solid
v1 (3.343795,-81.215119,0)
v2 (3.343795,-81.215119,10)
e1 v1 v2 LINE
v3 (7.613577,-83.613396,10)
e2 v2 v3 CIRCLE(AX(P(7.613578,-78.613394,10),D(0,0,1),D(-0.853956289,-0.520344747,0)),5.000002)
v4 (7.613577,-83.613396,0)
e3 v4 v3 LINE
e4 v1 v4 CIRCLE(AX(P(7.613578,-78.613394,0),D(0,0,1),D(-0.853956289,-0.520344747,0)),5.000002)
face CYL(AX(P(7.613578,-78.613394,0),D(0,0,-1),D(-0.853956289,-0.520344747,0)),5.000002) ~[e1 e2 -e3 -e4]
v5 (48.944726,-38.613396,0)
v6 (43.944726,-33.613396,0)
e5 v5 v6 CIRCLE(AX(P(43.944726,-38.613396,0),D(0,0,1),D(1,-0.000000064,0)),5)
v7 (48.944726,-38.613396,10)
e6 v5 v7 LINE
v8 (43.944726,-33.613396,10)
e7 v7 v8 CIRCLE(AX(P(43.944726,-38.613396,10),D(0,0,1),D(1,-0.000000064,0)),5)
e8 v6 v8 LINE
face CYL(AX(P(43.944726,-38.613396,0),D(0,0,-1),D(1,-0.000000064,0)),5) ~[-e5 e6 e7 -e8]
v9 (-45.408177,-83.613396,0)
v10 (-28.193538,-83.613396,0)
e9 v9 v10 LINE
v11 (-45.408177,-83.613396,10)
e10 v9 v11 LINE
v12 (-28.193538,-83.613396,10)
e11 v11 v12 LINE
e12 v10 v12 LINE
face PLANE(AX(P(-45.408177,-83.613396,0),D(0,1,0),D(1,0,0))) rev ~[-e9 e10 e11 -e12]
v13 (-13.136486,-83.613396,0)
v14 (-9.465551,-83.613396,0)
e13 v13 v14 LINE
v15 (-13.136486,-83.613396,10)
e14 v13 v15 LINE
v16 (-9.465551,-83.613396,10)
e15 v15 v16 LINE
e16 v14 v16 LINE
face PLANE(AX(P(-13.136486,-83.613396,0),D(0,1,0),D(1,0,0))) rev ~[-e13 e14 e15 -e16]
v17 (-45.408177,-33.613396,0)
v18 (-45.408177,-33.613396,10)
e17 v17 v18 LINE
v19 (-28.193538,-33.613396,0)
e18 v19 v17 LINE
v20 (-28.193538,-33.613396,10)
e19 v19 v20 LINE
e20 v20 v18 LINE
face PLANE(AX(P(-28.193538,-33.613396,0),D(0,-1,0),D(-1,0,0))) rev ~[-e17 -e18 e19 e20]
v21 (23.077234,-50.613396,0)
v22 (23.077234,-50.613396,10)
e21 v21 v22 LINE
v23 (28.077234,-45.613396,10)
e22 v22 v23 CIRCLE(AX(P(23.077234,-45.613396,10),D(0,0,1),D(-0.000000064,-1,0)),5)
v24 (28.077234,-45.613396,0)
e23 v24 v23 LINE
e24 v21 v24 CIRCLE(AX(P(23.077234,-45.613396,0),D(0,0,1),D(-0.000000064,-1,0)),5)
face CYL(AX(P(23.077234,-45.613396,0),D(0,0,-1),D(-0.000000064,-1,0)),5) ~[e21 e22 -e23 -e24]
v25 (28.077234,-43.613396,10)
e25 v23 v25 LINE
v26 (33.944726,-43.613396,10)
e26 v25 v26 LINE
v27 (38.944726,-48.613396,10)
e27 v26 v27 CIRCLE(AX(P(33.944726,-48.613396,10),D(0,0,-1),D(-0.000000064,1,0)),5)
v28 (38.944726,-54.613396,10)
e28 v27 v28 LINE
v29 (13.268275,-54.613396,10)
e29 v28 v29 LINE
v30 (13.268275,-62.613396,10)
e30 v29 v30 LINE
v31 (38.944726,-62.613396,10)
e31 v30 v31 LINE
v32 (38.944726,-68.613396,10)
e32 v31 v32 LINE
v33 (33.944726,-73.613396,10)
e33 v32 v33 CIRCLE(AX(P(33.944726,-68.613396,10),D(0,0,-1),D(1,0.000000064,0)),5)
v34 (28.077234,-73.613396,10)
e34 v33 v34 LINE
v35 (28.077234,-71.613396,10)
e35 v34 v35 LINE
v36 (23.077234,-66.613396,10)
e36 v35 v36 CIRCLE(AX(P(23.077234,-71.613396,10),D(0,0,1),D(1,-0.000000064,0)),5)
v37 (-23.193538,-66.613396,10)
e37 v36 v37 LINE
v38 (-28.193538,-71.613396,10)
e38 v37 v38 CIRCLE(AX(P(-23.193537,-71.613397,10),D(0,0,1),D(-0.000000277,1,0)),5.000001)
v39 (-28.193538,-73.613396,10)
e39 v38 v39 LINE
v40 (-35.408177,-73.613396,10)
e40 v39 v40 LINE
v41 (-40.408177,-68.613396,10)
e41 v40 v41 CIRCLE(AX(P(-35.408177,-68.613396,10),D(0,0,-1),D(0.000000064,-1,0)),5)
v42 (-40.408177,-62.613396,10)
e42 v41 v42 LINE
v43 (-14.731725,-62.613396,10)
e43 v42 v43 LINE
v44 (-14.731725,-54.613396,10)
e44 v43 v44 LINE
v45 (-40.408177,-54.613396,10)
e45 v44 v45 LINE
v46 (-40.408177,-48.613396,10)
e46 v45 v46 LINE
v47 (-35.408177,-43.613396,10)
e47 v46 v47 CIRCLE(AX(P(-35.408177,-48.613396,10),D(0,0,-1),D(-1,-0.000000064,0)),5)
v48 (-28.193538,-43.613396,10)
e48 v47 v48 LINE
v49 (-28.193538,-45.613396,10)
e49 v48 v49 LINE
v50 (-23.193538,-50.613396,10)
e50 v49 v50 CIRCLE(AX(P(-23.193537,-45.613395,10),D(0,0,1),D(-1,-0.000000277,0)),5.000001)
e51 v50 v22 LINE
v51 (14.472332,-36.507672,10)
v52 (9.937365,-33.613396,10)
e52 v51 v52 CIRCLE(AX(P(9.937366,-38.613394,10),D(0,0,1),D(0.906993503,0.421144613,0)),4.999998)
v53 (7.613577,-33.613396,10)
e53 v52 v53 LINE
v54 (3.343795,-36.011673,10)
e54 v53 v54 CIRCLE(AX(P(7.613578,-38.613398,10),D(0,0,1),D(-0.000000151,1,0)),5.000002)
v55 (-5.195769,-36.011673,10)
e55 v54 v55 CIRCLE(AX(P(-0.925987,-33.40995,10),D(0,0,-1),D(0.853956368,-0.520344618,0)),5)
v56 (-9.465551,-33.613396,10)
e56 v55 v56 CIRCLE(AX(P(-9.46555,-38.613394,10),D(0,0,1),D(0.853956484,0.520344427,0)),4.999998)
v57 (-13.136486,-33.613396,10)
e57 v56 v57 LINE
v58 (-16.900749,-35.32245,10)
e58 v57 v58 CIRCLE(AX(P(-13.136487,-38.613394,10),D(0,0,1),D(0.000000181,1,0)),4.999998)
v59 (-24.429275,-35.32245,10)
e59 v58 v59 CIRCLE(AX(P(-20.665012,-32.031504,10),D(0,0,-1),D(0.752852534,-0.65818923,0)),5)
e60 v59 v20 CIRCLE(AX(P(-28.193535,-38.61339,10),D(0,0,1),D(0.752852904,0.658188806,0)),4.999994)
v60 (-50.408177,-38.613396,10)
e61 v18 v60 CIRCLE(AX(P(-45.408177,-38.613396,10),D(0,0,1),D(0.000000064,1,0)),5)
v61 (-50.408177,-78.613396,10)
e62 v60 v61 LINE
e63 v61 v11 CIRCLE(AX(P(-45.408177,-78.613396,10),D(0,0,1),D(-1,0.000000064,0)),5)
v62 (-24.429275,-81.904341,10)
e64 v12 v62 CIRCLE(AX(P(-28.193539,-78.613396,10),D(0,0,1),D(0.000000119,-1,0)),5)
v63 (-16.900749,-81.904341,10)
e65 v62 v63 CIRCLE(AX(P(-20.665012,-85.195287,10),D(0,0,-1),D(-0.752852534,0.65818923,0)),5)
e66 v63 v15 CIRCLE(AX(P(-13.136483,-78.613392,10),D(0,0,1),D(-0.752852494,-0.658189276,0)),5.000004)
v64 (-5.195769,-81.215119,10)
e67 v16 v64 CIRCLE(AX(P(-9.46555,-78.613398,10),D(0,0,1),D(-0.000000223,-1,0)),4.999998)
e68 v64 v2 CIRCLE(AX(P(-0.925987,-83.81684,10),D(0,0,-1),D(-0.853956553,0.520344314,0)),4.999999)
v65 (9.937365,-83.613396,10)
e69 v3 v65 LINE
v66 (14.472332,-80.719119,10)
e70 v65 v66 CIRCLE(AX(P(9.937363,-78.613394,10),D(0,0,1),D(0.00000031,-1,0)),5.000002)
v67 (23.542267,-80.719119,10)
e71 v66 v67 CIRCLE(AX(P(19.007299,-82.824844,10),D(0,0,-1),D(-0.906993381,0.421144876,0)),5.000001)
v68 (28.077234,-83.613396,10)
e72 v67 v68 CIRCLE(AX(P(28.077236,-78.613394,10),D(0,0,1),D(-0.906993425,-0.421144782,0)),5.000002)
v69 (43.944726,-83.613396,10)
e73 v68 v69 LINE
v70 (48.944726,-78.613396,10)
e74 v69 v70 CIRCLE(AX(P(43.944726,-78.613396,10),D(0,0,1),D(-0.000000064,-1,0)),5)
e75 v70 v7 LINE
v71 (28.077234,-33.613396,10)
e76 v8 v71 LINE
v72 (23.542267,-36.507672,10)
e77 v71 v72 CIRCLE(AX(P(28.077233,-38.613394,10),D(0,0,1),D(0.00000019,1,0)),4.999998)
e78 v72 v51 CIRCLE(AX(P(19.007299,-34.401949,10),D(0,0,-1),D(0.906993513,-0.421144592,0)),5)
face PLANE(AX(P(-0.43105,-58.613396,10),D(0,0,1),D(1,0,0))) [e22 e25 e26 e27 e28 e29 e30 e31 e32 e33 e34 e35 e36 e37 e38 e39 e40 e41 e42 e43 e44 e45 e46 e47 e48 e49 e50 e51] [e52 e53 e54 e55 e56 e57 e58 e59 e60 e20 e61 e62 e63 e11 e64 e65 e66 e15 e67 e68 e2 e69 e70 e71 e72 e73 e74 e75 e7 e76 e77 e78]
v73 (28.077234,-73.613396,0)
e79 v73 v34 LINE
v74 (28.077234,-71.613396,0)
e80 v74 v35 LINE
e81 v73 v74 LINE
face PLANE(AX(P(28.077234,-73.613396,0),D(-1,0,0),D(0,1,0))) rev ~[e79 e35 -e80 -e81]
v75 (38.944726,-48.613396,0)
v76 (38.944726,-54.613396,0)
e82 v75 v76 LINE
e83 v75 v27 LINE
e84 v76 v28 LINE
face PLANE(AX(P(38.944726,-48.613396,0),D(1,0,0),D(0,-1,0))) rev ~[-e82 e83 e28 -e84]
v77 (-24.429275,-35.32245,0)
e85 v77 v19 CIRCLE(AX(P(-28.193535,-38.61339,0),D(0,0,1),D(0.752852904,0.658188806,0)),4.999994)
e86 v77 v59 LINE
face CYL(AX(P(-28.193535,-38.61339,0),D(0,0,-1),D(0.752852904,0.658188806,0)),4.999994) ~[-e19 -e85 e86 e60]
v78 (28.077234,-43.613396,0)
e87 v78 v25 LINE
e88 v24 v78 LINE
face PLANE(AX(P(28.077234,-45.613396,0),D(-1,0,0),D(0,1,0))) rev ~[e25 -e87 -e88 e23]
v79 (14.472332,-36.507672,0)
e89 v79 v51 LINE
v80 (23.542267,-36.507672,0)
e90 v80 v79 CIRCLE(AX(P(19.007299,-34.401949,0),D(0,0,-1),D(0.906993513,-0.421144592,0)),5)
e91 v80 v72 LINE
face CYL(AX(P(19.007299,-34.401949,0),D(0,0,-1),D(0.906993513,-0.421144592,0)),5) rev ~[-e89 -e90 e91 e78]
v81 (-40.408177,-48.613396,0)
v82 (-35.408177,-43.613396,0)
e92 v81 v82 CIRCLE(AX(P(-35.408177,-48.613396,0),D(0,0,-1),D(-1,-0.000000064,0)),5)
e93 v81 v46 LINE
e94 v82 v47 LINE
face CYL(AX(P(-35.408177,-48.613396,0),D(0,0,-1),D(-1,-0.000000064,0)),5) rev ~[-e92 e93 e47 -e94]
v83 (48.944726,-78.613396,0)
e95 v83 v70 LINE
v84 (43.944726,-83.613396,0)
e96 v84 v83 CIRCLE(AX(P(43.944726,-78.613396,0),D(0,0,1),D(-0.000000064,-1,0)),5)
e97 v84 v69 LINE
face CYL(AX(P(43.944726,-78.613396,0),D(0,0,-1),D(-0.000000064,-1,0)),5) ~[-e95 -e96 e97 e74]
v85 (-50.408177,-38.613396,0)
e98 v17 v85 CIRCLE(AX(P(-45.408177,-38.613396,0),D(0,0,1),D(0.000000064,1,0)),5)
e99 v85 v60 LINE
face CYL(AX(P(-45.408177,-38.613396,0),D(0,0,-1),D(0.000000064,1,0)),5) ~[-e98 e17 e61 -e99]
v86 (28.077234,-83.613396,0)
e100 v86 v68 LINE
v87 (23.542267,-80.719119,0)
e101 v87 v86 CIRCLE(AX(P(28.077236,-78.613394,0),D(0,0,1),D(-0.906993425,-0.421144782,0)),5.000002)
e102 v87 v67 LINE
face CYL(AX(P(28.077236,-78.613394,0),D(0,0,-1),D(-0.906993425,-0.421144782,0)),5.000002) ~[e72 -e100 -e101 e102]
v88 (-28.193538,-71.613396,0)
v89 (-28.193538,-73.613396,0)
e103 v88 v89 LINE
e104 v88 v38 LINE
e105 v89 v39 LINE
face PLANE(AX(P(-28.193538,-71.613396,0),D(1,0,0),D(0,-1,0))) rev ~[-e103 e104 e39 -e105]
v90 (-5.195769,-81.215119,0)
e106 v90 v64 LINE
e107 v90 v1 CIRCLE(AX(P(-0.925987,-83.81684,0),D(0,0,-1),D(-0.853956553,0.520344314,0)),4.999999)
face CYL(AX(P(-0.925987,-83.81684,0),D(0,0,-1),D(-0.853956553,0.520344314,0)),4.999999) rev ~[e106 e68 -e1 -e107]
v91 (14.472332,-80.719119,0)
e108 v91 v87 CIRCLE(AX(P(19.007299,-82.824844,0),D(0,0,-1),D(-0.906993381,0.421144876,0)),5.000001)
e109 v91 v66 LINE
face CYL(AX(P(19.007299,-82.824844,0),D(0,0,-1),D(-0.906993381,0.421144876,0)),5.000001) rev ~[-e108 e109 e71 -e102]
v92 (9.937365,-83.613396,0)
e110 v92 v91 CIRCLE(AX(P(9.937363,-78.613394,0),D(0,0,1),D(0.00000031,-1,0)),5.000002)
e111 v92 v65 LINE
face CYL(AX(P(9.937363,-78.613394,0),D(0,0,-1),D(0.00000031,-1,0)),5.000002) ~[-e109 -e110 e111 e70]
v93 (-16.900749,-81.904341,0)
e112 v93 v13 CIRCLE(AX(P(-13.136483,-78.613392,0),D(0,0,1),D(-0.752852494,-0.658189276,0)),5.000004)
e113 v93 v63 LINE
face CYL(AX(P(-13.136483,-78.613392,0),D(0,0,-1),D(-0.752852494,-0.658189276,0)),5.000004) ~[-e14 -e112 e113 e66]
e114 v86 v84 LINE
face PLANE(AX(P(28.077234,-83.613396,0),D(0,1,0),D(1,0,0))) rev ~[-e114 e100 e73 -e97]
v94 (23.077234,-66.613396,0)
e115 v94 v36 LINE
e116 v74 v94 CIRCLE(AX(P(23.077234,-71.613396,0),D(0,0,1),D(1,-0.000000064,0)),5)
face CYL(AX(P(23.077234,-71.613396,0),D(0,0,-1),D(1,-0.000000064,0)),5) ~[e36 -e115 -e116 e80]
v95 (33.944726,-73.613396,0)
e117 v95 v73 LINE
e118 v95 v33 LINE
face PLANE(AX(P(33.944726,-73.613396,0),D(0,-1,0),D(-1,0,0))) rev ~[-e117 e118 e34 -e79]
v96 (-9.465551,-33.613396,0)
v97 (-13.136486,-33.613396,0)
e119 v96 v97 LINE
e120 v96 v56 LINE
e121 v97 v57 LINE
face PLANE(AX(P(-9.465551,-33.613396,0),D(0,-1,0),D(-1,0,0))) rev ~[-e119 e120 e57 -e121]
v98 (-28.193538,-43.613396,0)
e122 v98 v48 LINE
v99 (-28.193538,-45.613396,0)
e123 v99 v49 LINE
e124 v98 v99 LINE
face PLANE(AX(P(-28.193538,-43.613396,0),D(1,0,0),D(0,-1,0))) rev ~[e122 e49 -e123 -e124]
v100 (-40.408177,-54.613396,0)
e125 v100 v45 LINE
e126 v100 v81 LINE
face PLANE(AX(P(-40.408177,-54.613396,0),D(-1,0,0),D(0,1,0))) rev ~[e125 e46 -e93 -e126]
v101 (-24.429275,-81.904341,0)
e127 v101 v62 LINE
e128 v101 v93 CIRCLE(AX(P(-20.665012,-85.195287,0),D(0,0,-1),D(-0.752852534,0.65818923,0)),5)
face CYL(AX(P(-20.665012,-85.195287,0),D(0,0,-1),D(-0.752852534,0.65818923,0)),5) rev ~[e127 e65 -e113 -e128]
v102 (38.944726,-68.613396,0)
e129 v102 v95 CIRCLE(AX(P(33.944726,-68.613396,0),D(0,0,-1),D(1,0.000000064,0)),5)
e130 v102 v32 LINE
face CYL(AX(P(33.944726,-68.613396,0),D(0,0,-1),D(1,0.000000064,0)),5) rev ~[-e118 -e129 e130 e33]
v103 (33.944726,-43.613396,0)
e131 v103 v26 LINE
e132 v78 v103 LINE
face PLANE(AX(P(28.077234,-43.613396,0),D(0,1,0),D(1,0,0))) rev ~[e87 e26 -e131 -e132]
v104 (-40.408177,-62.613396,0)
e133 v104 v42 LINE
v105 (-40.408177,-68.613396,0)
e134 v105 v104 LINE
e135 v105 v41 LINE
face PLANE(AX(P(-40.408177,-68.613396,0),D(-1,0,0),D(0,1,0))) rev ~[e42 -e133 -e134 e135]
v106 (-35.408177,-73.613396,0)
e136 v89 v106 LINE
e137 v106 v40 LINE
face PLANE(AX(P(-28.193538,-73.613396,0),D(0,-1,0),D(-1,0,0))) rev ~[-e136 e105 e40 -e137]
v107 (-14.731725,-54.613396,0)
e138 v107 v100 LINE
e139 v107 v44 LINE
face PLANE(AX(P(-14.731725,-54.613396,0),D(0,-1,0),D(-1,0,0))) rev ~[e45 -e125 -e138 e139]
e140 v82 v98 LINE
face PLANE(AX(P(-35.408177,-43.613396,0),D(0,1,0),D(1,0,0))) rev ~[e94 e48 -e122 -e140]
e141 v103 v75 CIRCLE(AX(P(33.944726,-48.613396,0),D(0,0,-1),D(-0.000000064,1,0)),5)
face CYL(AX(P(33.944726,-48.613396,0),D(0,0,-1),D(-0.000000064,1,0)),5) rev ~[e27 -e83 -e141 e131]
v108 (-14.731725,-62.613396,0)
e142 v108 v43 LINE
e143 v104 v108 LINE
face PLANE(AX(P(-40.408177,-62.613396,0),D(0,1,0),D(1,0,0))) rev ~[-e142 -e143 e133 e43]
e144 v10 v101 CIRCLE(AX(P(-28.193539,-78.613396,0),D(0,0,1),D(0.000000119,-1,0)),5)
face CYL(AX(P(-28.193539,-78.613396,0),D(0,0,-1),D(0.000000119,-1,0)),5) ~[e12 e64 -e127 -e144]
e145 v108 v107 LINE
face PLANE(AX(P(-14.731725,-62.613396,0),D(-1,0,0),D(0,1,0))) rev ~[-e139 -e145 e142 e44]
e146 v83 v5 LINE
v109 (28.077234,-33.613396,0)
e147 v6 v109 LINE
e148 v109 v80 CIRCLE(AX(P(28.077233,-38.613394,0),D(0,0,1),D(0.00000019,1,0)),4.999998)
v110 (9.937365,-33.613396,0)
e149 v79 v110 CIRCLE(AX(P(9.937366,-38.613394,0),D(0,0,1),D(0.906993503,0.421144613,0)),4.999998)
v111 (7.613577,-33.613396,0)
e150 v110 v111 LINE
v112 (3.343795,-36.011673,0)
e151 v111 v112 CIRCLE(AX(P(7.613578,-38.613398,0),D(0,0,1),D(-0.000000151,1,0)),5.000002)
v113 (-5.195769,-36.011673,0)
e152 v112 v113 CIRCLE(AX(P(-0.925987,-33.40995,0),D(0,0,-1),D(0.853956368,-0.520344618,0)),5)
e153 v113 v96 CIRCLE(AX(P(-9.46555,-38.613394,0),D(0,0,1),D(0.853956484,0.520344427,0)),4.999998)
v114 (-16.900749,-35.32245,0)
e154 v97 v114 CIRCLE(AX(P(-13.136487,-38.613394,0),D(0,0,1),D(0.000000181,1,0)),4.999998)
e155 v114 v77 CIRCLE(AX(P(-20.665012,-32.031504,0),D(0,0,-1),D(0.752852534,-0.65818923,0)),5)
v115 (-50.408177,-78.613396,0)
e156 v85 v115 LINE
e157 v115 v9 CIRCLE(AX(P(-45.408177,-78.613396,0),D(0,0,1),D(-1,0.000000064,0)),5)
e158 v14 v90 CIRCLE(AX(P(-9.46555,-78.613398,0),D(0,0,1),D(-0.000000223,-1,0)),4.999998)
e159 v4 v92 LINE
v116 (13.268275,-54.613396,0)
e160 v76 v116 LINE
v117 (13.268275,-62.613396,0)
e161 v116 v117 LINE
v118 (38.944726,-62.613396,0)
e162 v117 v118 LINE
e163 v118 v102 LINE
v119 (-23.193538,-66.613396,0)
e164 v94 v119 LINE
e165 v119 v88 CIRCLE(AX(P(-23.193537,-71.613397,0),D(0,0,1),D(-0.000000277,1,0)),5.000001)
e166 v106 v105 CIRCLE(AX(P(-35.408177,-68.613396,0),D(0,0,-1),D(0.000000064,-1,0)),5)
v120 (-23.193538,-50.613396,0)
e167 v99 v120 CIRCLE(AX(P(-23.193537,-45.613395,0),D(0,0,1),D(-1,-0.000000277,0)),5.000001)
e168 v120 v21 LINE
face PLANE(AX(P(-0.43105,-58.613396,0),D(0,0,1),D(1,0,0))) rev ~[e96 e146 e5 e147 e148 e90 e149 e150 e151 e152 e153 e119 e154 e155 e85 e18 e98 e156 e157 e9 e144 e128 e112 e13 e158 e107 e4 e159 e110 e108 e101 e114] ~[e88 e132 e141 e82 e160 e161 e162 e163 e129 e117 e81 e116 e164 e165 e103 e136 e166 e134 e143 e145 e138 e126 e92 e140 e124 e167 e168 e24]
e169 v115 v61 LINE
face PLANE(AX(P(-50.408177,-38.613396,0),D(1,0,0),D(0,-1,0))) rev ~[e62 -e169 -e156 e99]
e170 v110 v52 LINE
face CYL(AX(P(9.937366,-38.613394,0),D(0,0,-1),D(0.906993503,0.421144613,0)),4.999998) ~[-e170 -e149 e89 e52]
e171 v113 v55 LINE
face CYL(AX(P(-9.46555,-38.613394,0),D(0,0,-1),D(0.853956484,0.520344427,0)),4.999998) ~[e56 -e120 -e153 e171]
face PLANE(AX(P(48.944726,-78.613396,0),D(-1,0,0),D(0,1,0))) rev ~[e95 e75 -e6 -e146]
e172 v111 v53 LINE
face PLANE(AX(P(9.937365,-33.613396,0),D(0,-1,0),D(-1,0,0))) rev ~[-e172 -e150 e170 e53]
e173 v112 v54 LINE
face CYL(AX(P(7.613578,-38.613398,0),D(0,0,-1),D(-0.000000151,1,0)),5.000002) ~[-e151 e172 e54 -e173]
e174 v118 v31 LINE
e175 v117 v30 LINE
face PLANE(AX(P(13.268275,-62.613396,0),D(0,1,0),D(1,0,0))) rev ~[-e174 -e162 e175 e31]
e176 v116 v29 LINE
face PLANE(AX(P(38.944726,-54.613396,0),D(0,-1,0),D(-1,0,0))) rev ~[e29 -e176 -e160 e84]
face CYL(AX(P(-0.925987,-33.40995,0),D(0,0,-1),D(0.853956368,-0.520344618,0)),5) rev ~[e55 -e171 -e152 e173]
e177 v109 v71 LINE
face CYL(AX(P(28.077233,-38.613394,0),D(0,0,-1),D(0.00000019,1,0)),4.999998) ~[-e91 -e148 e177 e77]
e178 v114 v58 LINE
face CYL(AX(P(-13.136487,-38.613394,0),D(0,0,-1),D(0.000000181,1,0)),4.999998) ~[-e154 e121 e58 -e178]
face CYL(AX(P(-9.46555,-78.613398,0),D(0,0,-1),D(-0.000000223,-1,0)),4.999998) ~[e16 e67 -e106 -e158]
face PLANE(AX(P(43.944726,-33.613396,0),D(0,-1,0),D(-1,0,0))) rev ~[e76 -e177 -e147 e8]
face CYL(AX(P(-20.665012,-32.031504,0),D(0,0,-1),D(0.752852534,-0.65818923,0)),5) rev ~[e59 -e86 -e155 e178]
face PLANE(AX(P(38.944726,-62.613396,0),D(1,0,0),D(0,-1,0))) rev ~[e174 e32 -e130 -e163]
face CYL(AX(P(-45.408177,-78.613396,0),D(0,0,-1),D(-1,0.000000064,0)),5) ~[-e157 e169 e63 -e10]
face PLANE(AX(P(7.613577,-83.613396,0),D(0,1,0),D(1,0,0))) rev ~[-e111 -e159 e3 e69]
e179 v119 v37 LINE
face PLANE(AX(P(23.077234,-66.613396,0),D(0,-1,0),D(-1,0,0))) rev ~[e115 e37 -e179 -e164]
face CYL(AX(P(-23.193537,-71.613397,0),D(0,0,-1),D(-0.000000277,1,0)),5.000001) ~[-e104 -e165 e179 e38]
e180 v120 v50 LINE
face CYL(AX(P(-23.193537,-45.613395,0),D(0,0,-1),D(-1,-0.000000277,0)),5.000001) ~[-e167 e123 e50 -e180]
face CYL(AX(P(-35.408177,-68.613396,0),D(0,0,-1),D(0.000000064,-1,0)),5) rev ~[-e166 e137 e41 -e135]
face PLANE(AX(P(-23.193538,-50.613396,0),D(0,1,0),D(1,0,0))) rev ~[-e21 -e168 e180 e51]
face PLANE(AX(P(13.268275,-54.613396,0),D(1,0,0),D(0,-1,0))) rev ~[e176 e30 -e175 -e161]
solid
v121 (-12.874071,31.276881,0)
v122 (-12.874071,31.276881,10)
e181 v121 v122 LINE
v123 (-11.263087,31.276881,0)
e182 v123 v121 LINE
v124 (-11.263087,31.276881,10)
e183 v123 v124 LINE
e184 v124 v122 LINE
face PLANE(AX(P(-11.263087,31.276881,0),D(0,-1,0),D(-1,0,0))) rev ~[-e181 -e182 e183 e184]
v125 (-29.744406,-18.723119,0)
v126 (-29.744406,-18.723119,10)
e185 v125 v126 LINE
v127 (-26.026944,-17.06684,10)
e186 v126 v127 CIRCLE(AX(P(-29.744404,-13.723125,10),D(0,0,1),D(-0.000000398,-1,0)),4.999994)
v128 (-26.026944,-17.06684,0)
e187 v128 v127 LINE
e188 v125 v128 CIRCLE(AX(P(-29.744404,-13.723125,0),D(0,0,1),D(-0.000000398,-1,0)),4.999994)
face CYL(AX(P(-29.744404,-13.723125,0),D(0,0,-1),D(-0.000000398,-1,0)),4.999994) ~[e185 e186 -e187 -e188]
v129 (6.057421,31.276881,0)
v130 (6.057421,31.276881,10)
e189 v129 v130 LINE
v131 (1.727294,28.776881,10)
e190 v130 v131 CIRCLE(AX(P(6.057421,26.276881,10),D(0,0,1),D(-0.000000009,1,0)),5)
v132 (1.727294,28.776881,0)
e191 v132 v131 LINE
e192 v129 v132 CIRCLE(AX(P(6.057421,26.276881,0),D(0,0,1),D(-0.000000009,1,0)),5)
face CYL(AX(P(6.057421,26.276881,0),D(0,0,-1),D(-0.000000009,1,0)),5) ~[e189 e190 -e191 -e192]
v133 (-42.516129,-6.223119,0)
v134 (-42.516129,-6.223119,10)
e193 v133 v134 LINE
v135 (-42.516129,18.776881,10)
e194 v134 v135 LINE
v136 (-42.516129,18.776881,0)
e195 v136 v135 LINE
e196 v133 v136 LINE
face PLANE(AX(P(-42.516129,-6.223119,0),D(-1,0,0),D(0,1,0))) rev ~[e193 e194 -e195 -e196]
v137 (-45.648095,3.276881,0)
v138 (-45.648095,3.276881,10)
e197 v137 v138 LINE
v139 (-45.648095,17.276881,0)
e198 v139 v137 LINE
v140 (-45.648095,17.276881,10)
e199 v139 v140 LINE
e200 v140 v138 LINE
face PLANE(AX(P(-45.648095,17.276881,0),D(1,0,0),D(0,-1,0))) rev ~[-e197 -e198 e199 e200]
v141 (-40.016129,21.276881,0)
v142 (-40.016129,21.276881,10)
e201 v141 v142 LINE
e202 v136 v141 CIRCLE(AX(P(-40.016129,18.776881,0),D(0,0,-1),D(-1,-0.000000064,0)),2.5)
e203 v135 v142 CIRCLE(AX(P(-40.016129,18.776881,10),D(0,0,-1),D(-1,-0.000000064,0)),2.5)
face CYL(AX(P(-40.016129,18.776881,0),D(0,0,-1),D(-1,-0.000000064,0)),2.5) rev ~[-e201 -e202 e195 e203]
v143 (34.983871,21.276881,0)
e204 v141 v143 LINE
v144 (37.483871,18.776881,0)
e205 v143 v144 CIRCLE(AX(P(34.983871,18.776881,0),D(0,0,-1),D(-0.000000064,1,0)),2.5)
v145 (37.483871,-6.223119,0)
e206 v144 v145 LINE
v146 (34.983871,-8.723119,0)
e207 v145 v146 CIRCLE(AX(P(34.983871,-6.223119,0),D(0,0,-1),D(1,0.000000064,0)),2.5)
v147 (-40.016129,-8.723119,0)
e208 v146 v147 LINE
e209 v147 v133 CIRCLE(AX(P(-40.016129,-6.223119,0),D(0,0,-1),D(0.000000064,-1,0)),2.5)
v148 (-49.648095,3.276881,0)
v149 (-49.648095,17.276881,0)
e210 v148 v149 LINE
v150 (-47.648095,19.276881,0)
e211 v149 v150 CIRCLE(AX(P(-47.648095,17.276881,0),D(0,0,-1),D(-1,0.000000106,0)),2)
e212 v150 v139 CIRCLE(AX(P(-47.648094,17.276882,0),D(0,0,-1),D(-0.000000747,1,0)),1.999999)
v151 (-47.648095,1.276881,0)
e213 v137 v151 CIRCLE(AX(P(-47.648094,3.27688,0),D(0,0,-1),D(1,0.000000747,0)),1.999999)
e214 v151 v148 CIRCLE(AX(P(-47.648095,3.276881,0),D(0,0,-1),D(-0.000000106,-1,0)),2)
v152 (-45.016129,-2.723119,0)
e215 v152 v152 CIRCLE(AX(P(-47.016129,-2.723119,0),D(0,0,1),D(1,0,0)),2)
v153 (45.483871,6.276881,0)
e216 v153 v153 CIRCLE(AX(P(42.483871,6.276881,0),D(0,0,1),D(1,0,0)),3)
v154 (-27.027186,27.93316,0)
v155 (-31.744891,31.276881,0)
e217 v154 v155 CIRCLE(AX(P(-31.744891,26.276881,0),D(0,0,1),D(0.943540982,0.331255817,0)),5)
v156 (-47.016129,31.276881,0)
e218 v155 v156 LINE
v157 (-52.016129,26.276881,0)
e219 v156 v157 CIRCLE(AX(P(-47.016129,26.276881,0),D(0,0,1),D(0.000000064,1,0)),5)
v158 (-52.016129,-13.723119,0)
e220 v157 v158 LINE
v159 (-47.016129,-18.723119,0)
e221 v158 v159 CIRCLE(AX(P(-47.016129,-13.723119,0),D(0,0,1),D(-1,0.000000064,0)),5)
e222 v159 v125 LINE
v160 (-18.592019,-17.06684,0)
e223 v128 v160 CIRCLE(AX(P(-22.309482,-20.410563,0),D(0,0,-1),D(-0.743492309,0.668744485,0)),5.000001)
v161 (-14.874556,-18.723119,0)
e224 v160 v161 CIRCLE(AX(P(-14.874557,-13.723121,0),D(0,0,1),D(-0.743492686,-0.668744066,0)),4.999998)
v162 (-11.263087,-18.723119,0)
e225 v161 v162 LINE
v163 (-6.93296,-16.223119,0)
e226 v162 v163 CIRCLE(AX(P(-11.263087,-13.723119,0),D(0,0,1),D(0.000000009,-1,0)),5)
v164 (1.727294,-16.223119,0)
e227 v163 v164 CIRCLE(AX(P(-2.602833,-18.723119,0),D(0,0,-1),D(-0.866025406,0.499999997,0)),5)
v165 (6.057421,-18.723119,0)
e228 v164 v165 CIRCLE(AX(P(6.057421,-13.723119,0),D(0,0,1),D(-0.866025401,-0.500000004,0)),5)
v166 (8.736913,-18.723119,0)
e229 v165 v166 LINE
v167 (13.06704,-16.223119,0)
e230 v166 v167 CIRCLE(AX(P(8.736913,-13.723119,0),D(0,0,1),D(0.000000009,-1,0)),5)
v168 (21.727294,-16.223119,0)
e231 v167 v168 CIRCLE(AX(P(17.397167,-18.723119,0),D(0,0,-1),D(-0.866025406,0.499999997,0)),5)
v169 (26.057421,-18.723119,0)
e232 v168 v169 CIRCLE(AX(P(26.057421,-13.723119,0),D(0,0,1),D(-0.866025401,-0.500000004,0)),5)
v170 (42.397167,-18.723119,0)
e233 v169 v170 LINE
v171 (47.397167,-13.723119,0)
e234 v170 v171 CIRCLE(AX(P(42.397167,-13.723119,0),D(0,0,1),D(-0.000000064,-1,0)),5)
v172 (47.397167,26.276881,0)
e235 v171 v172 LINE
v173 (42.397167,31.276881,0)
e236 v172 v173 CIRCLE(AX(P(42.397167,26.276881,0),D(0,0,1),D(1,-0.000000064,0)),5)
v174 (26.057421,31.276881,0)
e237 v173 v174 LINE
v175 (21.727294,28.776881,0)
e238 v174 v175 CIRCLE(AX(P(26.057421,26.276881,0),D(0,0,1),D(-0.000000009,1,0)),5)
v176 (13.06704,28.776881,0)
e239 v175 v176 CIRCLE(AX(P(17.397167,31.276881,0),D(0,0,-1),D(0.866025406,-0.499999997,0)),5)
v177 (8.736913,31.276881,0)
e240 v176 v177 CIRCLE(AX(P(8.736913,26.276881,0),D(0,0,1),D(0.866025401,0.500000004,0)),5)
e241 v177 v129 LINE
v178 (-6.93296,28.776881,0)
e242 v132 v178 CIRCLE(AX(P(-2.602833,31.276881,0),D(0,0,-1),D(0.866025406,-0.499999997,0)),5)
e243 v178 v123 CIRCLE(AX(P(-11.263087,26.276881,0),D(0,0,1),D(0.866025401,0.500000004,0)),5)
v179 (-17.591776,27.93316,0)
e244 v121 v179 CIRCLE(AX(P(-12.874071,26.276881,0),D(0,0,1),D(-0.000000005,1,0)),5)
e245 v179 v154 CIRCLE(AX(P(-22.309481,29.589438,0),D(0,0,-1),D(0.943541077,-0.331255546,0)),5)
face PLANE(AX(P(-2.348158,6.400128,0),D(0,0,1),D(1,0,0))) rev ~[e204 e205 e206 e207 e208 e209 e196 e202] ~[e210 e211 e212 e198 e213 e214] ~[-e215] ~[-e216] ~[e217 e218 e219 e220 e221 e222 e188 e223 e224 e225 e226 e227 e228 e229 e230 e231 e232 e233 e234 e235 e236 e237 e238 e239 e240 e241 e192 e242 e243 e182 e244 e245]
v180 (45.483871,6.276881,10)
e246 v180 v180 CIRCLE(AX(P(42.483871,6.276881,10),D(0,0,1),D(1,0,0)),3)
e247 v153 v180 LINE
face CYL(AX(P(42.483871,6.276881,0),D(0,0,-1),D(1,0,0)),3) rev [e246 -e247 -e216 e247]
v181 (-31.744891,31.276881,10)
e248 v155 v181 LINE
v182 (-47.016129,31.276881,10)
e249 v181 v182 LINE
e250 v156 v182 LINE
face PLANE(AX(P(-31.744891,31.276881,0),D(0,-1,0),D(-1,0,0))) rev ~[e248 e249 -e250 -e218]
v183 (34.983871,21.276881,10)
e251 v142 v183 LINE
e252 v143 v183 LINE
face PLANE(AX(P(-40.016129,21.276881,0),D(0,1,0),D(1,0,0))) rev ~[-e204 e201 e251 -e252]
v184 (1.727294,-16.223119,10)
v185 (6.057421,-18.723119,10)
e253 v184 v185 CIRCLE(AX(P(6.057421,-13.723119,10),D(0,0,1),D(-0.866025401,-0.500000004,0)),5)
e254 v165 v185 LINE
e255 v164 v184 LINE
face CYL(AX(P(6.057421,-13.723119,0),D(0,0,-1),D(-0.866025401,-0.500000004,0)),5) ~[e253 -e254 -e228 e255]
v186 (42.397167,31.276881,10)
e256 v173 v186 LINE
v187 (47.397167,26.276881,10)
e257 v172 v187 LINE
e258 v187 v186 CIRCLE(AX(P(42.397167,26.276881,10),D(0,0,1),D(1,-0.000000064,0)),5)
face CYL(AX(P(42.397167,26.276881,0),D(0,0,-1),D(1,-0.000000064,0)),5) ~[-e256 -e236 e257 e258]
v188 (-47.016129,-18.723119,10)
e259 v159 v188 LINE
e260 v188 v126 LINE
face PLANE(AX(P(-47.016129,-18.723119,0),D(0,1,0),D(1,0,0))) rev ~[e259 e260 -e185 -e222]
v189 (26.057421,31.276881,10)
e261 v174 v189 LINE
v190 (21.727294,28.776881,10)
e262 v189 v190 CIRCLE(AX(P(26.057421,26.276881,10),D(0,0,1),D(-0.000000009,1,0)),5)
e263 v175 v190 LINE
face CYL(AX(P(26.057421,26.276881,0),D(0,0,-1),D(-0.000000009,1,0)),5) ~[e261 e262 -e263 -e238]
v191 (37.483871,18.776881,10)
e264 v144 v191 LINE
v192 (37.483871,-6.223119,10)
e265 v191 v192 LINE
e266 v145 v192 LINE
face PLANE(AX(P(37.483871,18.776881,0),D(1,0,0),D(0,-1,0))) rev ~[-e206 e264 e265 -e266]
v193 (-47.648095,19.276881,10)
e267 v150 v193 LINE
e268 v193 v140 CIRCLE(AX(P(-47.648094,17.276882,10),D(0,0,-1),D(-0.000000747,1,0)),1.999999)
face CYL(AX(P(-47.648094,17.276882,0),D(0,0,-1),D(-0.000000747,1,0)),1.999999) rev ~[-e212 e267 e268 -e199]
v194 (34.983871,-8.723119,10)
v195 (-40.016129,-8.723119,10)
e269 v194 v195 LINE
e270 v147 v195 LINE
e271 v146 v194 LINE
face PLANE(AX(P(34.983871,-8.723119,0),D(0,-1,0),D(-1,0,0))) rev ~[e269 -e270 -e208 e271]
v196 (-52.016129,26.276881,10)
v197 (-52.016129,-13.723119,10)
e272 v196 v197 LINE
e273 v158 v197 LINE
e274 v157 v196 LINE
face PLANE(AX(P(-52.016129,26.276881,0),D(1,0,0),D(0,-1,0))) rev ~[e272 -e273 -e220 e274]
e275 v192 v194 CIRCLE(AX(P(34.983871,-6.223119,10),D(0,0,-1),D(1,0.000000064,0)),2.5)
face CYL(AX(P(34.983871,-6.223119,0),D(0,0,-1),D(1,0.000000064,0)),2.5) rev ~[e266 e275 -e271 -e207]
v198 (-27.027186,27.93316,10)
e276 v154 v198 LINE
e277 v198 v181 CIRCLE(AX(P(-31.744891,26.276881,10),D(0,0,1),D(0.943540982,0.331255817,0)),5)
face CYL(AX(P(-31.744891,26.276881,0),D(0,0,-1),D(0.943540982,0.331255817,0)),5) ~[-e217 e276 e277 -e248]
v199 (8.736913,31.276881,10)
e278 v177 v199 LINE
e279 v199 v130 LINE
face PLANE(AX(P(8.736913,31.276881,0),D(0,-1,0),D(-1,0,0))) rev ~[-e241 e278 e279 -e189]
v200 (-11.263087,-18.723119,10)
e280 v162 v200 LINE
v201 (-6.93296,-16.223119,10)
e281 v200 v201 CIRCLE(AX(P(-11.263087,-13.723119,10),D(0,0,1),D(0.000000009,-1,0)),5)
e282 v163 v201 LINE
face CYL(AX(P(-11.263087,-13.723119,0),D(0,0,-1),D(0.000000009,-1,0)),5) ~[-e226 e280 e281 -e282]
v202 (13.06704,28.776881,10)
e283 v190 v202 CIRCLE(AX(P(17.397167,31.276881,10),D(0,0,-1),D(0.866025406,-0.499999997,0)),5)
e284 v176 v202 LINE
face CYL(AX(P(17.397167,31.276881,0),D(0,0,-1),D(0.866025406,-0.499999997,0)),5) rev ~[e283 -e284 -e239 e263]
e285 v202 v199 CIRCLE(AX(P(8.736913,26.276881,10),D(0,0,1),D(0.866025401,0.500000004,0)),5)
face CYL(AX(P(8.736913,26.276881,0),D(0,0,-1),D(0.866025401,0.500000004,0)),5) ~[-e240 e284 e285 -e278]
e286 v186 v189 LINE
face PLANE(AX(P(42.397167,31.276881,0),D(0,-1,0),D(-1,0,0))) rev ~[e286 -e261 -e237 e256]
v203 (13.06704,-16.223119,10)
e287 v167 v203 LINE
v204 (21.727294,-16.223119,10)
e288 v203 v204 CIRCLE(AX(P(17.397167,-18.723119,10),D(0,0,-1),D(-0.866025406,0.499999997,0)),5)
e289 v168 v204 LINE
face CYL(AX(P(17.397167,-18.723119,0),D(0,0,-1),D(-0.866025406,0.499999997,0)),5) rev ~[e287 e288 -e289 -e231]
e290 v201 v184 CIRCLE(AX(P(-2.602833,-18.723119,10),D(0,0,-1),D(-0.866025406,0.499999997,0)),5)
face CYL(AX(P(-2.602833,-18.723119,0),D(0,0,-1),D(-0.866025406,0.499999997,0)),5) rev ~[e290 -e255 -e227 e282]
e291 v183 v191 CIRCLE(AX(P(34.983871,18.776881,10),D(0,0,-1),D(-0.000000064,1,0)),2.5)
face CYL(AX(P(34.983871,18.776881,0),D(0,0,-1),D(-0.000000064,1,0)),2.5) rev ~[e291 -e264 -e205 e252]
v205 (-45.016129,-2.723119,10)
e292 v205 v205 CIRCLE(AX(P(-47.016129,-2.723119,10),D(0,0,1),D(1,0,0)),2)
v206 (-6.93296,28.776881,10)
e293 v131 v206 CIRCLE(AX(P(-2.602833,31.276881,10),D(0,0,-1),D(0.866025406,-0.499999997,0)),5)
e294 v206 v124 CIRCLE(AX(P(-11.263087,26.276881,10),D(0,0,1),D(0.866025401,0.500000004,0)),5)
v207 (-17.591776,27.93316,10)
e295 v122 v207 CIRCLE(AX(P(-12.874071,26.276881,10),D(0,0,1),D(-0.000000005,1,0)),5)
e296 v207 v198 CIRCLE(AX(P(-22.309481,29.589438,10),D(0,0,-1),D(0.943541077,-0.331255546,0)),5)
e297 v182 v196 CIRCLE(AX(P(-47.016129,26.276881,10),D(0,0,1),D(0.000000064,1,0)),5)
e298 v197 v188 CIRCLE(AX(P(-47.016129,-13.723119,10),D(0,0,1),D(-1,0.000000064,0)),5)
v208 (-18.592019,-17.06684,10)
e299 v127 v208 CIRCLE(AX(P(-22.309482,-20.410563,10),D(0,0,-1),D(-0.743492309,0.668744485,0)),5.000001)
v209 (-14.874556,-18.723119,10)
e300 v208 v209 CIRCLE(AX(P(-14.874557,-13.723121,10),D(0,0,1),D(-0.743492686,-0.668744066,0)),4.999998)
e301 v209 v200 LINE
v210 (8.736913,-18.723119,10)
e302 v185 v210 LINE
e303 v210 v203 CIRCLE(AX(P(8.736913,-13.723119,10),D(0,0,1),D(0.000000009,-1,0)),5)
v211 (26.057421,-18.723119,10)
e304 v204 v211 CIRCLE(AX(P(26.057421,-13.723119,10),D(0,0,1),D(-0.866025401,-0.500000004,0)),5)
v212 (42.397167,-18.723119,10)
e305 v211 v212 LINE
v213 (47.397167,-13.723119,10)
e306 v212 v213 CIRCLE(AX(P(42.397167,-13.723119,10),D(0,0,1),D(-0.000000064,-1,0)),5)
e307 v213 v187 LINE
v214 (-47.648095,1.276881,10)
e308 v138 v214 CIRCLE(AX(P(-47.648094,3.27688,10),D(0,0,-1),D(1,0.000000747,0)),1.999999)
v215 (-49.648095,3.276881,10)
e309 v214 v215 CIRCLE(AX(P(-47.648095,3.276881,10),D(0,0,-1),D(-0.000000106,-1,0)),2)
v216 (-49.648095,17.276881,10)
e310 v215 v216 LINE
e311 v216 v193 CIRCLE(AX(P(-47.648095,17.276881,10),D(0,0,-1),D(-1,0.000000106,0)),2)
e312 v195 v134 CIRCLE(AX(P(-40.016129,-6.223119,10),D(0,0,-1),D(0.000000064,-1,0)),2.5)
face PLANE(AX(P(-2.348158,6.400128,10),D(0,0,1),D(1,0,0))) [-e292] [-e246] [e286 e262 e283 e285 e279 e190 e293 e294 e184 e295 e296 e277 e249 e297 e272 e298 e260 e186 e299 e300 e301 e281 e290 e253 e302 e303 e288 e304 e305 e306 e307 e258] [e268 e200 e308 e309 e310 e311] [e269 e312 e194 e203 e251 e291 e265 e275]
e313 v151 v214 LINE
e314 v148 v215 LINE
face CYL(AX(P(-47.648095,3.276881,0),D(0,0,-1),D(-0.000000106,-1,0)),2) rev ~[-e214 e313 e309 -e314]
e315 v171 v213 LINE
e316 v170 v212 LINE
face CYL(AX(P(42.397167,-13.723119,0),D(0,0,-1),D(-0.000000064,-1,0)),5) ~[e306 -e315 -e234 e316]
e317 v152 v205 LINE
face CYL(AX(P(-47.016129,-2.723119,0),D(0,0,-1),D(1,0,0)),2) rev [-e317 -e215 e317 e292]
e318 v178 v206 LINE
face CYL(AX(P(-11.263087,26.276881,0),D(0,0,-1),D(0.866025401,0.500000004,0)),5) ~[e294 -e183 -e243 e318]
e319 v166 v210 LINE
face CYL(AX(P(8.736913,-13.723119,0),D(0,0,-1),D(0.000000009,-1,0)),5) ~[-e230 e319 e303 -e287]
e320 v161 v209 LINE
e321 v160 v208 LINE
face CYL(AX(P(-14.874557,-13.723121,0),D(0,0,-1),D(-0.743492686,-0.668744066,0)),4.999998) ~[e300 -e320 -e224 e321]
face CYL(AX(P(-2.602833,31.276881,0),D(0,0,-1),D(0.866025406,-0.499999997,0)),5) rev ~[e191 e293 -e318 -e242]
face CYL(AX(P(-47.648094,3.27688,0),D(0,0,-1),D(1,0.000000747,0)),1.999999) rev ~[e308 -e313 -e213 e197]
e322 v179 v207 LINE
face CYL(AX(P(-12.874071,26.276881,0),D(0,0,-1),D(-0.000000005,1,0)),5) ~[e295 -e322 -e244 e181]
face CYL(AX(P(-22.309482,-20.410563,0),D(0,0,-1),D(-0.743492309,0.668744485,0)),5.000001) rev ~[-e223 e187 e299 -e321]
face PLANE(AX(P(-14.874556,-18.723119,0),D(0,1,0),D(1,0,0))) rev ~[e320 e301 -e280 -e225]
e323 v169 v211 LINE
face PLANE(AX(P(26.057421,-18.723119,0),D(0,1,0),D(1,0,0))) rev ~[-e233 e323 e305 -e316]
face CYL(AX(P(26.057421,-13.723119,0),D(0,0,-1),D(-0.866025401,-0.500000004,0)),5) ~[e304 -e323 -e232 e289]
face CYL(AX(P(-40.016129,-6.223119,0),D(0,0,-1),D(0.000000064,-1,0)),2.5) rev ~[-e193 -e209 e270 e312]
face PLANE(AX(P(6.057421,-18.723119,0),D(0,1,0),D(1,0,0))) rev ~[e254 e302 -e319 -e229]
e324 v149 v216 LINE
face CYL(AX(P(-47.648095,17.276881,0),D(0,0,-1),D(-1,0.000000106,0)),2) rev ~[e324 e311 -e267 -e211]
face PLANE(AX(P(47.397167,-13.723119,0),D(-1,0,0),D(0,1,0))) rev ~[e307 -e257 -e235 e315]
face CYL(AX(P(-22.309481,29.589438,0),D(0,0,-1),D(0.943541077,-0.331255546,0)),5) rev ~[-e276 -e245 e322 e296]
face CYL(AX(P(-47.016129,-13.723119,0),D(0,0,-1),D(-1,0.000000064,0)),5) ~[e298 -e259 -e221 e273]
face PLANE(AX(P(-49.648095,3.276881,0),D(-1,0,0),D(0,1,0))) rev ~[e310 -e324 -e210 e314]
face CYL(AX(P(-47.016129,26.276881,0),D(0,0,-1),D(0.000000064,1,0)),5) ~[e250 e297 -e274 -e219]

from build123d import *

# Parameters (mm, degrees)
F0_R     = 2
F0_R_2   = 3
F1_DEPTH = 10


with BuildPart() as f1:
    # F0 (on Top) → F1 (new body)
    with BuildSketch(Plane.XY):
        with BuildLine():
            Line((-31.744891, 31.276881), (-47.016129, 31.276881))
            ThreePointArc((-47.016129, 31.276881), (-50.551663, 29.812415), (-52.016129, 26.276881))
            Line((-52.016129, 26.276881), (-52.016129, -13.723119))
            ThreePointArc((-52.016129, -13.723119), (-50.551663, -17.258653), (-47.016129, -18.723119))
            Line((-47.016129, -18.723119), (-29.744406, -18.723119))
            ThreePointArc((-29.744406, -18.723119), (-27.709536, -18.290318), (-26.026944, -17.06684))
            ThreePointArc((-26.026944, -17.06684), (-22.309481, -15.410562), (-18.592019, -17.06684))
            ThreePointArc((-18.592019, -17.06684), (-16.909426, -18.290318), (-14.874556, -18.723119))
            Line((-14.874556, -18.723119), (-11.263087, -18.723119))
            ThreePointArc((-11.263087, -18.723119), (-8.763087, -18.053246), (-6.93296, -16.223119))
            ThreePointArc((-6.93296, -16.223119), (-2.602833, -13.723119), (1.727294, -16.223119))
            ThreePointArc((1.727294, -16.223119), (3.557421, -18.053246), (6.057421, -18.723119))
            Line((6.057421, -18.723119), (8.736913, -18.723119))
            ThreePointArc((8.736913, -18.723119), (11.236913, -18.053246), (13.06704, -16.223119))
            ThreePointArc((13.06704, -16.223119), (17.397167, -13.723119), (21.727294, -16.223119))
            ThreePointArc((21.727294, -16.223119), (23.557421, -18.053246), (26.057421, -18.723119))
            Line((26.057421, -18.723119), (42.397167, -18.723119))
            ThreePointArc((42.397167, -18.723119), (45.932701, -17.258653), (47.397167, -13.723119))
            Line((47.397167, -13.723119), (47.397167, 26.276881))
            ThreePointArc((47.397167, 26.276881), (45.932701, 29.812415), (42.397167, 31.276881))
            Line((42.397167, 31.276881), (26.057421, 31.276881))
            ThreePointArc((26.057421, 31.276881), (23.557421, 30.607008), (21.727294, 28.776881))
            ThreePointArc((21.727294, 28.776881), (17.397167, 26.276881), (13.06704, 28.776881))
            ThreePointArc((13.06704, 28.776881), (11.236913, 30.607008), (8.736913, 31.276881))
            Line((8.736913, 31.276881), (6.057421, 31.276881))
            ThreePointArc((6.057421, 31.276881), (3.557421, 30.607008), (1.727294, 28.776881))
            ThreePointArc((1.727294, 28.776881), (-2.602833, 26.276881), (-6.93296, 28.776881))
            ThreePointArc((-6.93296, 28.776881), (-8.763087, 30.607008), (-11.263087, 31.276881))
            Line((-11.263087, 31.276881), (-12.874071, 31.276881))
            ThreePointArc((-12.874071, 31.276881), (-15.765317, 30.356182), (-17.591776, 27.93316))
            ThreePointArc((-17.591776, 27.93316), (-22.309481, 24.589438), (-27.027186, 27.93316))
            ThreePointArc((-27.027186, 27.93316), (-28.853645, 30.356182), (-31.744891, 31.276881))
        make_face()
        with Locations((-47.016129, -2.723119)):
            Circle(F0_R, mode=Mode.SUBTRACT)
        with BuildLine():
            ThreePointArc((-47.648095, 1.276881), (-49.062308, 1.862667), (-49.648095, 3.276881))
            Line((-49.648095, 3.276881), (-49.648095, 17.276881))
            ThreePointArc((-49.648095, 17.276881), (-49.062308, 18.691095), (-47.648095, 19.276881))
            ThreePointArc((-47.648095, 19.276881), (-46.233881, 18.691095), (-45.648095, 17.276881))
            Line((-45.648095, 17.276881), (-45.648095, 3.276881))
            ThreePointArc((-45.648095, 3.276881), (-46.233881, 1.862667), (-47.648095, 1.276881))
        make_face(mode=Mode.SUBTRACT)
        with BuildLine():
            Line((-42.516129, -6.223119), (-42.516129, 18.776881))
            ThreePointArc((-42.516129, 18.776881), (-41.783896, 20.544648), (-40.016129, 21.276881))
            Line((-40.016129, 21.276881), (34.983871, 21.276881))
            ThreePointArc((34.983871, 21.276881), (36.751638, 20.544648), (37.483871, 18.776881))
            Line((37.483871, 18.776881), (37.483871, -6.223119))
            ThreePointArc((37.483871, -6.223119), (36.751638, -7.990886), (34.983871, -8.723119))
            Line((34.983871, -8.723119), (-40.016129, -8.723119))
            ThreePointArc((-40.016129, -8.723119), (-41.783896, -7.990886), (-42.516129, -6.223119))
        make_face(mode=Mode.SUBTRACT)
        with Locations((42.483871, 6.276881)):
            Circle(F0_R_2, mode=Mode.SUBTRACT)
        with BuildLine():
            Line((-28.193538, -33.613396), (-45.408177, -33.613396))
            ThreePointArc((-45.408177, -33.613396), (-48.943711, -35.077862), (-50.408177, -38.613396))
            Line((-50.408177, -38.613396), (-50.408177, -43.613396))
            Line((-50.408177, -43.613396), (-50.408177, -73.613396))
            Line((-50.408177, -73.613396), (-50.408177, -78.613396))
            ThreePointArc((-50.408177, -78.613396), (-48.943711, -82.14893), (-45.408177, -83.613396))
            Line((-45.408177, -83.613396), (-28.193538, -83.613396))
            ThreePointArc((-28.193538, -83.613396), (-26.126502, -83.166127), (-24.429275, -81.904341))
            ThreePointArc((-24.429275, -81.904341), (-20.665012, -80.195287), (-16.900749, -81.904341))
            ThreePointArc((-16.900749, -81.904341), (-15.203521, -83.166127), (-13.136486, -83.613396))
            Line((-13.136486, -83.613396), (-9.465551, -83.613396))
            ThreePointArc((-9.465551, -83.613396), (-7.01694, -82.972789), (-5.195769, -81.215119))
            ThreePointArc((-5.195769, -81.215119), (-0.925987, -78.816841), (3.343795, -81.215119))
            ThreePointArc((3.343795, -81.215119), (5.164967, -82.972789), (7.613577, -83.613396))
            Line((7.613577, -83.613396), (9.937365, -83.613396))
            ThreePointArc((9.937365, -83.613396), (12.627289, -82.828168), (14.472332, -80.719119))
            ThreePointArc((14.472332, -80.719119), (19.007299, -77.824843), (23.542267, -80.719119))
            ThreePointArc((23.542267, -80.719119), (25.38731, -82.828168), (28.077234, -83.613396))
            Line((28.077234, -83.613396), (43.944726, -83.613396))
            ThreePointArc((43.944726, -83.613396), (47.48026, -82.14893), (48.944726, -78.613396))
            Line((48.944726, -78.613396), (48.944726, -38.613396))
            ThreePointArc((48.944726, -38.613396), (47.48026, -35.077862), (43.944726, -33.613396))
            Line((43.944726, -33.613396), (28.077234, -33.613396))
            ThreePointArc((28.077234, -33.613396), (25.38731, -34.398623), (23.542267, -36.507672))
            ThreePointArc((23.542267, -36.507672), (19.007299, -39.401949), (14.472332, -36.507672))
            ThreePointArc((14.472332, -36.507672), (12.627289, -34.398623), (9.937365, -33.613396))
            Line((9.937365, -33.613396), (7.613577, -33.613396))
            ThreePointArc((7.613577, -33.613396), (5.164967, -34.254003), (3.343795, -36.011673))
            ThreePointArc((3.343795, -36.011673), (-0.925987, -38.40995), (-5.195769, -36.011673))
            ThreePointArc((-5.195769, -36.011673), (-7.01694, -34.254003), (-9.465551, -33.613396))
            Line((-9.465551, -33.613396), (-13.136486, -33.613396))
            ThreePointArc((-13.136486, -33.613396), (-15.203521, -34.060664), (-16.900749, -35.32245))
            ThreePointArc((-16.900749, -35.32245), (-20.665012, -37.031504), (-24.429275, -35.32245))
            ThreePointArc((-24.429275, -35.32245), (-26.126502, -34.060664), (-28.193538, -33.613396))
        make_face()
        with BuildLine():
            Line((-40.408177, -54.613396), (-40.408177, -48.613396))
            ThreePointArc((-40.408177, -48.613396), (-38.943711, -45.077862), (-35.408177, -43.613396))
            Line((-35.408177, -43.613396), (-28.193538, -43.613396))
            Line((-28.193538, -43.613396), (-28.193538, -45.613396))
            ThreePointArc((-28.193538, -45.613396), (-26.729071, -49.14893), (-23.193538, -50.613396))
            Line((-23.193538, -50.613396), (0, -50.613396))
            Line((0, -50.613396), (23.077234, -50.613396))
            ThreePointArc((23.077234, -50.613396), (26.612768, -49.14893), (28.077234, -45.613396))
            Line((28.077234, -45.613396), (28.077234, -43.613396))
            Line((28.077234, -43.613396), (33.944726, -43.613396))
            ThreePointArc((33.944726, -43.613396), (37.48026, -45.077862), (38.944726, -48.613396))
            Line((38.944726, -48.613396), (38.944726, -54.613396))
            Line((38.944726, -54.613396), (26.944726, -54.613396))
            Line((26.944726, -54.613396), (13.268275, -54.613396))
            Line((13.268275, -54.613396), (13.268275, -62.613396))
            Line((13.268275, -62.613396), (26.944726, -62.613396))
            Line((26.944726, -62.613396), (38.944726, -62.613396))
            Line((38.944726, -62.613396), (38.944726, -68.613396))
            ThreePointArc((38.944726, -68.613396), (37.48026, -72.14893), (33.944726, -73.613396))
            Line((33.944726, -73.613396), (28.077234, -73.613396))
            Line((28.077234, -73.613396), (28.077234, -71.613396))
            ThreePointArc((28.077234, -71.613396), (26.612768, -68.077862), (23.077234, -66.613396))
            Line((23.077234, -66.613396), (0, -66.613396))
            Line((0, -66.613396), (-23.193538, -66.613396))
            ThreePointArc((-23.193538, -66.613396), (-26.729071, -68.077862), (-28.193538, -71.613396))
            Line((-28.193538, -71.613396), (-28.193538, -73.613396))
            Line((-28.193538, -73.613396), (-35.408177, -73.613396))
            ThreePointArc((-35.408177, -73.613396), (-38.943711, -72.14893), (-40.408177, -68.613396))
            Line((-40.408177, -68.613396), (-40.408177, -62.613396))
            Line((-40.408177, -62.613396), (-28.408177, -62.613396))
            Line((-28.408177, -62.613396), (-14.731725, -62.613396))
            Line((-14.731725, -62.613396), (-14.731725, -54.613396))
            Line((-14.731725, -54.613396), (-28.408177, -54.613396))
            Line((-28.408177, -54.613396), (-40.408177, -54.613396))
        make_face(mode=Mode.SUBTRACT)
    extrude(amount=F1_DEPTH)


solid = f1.part
